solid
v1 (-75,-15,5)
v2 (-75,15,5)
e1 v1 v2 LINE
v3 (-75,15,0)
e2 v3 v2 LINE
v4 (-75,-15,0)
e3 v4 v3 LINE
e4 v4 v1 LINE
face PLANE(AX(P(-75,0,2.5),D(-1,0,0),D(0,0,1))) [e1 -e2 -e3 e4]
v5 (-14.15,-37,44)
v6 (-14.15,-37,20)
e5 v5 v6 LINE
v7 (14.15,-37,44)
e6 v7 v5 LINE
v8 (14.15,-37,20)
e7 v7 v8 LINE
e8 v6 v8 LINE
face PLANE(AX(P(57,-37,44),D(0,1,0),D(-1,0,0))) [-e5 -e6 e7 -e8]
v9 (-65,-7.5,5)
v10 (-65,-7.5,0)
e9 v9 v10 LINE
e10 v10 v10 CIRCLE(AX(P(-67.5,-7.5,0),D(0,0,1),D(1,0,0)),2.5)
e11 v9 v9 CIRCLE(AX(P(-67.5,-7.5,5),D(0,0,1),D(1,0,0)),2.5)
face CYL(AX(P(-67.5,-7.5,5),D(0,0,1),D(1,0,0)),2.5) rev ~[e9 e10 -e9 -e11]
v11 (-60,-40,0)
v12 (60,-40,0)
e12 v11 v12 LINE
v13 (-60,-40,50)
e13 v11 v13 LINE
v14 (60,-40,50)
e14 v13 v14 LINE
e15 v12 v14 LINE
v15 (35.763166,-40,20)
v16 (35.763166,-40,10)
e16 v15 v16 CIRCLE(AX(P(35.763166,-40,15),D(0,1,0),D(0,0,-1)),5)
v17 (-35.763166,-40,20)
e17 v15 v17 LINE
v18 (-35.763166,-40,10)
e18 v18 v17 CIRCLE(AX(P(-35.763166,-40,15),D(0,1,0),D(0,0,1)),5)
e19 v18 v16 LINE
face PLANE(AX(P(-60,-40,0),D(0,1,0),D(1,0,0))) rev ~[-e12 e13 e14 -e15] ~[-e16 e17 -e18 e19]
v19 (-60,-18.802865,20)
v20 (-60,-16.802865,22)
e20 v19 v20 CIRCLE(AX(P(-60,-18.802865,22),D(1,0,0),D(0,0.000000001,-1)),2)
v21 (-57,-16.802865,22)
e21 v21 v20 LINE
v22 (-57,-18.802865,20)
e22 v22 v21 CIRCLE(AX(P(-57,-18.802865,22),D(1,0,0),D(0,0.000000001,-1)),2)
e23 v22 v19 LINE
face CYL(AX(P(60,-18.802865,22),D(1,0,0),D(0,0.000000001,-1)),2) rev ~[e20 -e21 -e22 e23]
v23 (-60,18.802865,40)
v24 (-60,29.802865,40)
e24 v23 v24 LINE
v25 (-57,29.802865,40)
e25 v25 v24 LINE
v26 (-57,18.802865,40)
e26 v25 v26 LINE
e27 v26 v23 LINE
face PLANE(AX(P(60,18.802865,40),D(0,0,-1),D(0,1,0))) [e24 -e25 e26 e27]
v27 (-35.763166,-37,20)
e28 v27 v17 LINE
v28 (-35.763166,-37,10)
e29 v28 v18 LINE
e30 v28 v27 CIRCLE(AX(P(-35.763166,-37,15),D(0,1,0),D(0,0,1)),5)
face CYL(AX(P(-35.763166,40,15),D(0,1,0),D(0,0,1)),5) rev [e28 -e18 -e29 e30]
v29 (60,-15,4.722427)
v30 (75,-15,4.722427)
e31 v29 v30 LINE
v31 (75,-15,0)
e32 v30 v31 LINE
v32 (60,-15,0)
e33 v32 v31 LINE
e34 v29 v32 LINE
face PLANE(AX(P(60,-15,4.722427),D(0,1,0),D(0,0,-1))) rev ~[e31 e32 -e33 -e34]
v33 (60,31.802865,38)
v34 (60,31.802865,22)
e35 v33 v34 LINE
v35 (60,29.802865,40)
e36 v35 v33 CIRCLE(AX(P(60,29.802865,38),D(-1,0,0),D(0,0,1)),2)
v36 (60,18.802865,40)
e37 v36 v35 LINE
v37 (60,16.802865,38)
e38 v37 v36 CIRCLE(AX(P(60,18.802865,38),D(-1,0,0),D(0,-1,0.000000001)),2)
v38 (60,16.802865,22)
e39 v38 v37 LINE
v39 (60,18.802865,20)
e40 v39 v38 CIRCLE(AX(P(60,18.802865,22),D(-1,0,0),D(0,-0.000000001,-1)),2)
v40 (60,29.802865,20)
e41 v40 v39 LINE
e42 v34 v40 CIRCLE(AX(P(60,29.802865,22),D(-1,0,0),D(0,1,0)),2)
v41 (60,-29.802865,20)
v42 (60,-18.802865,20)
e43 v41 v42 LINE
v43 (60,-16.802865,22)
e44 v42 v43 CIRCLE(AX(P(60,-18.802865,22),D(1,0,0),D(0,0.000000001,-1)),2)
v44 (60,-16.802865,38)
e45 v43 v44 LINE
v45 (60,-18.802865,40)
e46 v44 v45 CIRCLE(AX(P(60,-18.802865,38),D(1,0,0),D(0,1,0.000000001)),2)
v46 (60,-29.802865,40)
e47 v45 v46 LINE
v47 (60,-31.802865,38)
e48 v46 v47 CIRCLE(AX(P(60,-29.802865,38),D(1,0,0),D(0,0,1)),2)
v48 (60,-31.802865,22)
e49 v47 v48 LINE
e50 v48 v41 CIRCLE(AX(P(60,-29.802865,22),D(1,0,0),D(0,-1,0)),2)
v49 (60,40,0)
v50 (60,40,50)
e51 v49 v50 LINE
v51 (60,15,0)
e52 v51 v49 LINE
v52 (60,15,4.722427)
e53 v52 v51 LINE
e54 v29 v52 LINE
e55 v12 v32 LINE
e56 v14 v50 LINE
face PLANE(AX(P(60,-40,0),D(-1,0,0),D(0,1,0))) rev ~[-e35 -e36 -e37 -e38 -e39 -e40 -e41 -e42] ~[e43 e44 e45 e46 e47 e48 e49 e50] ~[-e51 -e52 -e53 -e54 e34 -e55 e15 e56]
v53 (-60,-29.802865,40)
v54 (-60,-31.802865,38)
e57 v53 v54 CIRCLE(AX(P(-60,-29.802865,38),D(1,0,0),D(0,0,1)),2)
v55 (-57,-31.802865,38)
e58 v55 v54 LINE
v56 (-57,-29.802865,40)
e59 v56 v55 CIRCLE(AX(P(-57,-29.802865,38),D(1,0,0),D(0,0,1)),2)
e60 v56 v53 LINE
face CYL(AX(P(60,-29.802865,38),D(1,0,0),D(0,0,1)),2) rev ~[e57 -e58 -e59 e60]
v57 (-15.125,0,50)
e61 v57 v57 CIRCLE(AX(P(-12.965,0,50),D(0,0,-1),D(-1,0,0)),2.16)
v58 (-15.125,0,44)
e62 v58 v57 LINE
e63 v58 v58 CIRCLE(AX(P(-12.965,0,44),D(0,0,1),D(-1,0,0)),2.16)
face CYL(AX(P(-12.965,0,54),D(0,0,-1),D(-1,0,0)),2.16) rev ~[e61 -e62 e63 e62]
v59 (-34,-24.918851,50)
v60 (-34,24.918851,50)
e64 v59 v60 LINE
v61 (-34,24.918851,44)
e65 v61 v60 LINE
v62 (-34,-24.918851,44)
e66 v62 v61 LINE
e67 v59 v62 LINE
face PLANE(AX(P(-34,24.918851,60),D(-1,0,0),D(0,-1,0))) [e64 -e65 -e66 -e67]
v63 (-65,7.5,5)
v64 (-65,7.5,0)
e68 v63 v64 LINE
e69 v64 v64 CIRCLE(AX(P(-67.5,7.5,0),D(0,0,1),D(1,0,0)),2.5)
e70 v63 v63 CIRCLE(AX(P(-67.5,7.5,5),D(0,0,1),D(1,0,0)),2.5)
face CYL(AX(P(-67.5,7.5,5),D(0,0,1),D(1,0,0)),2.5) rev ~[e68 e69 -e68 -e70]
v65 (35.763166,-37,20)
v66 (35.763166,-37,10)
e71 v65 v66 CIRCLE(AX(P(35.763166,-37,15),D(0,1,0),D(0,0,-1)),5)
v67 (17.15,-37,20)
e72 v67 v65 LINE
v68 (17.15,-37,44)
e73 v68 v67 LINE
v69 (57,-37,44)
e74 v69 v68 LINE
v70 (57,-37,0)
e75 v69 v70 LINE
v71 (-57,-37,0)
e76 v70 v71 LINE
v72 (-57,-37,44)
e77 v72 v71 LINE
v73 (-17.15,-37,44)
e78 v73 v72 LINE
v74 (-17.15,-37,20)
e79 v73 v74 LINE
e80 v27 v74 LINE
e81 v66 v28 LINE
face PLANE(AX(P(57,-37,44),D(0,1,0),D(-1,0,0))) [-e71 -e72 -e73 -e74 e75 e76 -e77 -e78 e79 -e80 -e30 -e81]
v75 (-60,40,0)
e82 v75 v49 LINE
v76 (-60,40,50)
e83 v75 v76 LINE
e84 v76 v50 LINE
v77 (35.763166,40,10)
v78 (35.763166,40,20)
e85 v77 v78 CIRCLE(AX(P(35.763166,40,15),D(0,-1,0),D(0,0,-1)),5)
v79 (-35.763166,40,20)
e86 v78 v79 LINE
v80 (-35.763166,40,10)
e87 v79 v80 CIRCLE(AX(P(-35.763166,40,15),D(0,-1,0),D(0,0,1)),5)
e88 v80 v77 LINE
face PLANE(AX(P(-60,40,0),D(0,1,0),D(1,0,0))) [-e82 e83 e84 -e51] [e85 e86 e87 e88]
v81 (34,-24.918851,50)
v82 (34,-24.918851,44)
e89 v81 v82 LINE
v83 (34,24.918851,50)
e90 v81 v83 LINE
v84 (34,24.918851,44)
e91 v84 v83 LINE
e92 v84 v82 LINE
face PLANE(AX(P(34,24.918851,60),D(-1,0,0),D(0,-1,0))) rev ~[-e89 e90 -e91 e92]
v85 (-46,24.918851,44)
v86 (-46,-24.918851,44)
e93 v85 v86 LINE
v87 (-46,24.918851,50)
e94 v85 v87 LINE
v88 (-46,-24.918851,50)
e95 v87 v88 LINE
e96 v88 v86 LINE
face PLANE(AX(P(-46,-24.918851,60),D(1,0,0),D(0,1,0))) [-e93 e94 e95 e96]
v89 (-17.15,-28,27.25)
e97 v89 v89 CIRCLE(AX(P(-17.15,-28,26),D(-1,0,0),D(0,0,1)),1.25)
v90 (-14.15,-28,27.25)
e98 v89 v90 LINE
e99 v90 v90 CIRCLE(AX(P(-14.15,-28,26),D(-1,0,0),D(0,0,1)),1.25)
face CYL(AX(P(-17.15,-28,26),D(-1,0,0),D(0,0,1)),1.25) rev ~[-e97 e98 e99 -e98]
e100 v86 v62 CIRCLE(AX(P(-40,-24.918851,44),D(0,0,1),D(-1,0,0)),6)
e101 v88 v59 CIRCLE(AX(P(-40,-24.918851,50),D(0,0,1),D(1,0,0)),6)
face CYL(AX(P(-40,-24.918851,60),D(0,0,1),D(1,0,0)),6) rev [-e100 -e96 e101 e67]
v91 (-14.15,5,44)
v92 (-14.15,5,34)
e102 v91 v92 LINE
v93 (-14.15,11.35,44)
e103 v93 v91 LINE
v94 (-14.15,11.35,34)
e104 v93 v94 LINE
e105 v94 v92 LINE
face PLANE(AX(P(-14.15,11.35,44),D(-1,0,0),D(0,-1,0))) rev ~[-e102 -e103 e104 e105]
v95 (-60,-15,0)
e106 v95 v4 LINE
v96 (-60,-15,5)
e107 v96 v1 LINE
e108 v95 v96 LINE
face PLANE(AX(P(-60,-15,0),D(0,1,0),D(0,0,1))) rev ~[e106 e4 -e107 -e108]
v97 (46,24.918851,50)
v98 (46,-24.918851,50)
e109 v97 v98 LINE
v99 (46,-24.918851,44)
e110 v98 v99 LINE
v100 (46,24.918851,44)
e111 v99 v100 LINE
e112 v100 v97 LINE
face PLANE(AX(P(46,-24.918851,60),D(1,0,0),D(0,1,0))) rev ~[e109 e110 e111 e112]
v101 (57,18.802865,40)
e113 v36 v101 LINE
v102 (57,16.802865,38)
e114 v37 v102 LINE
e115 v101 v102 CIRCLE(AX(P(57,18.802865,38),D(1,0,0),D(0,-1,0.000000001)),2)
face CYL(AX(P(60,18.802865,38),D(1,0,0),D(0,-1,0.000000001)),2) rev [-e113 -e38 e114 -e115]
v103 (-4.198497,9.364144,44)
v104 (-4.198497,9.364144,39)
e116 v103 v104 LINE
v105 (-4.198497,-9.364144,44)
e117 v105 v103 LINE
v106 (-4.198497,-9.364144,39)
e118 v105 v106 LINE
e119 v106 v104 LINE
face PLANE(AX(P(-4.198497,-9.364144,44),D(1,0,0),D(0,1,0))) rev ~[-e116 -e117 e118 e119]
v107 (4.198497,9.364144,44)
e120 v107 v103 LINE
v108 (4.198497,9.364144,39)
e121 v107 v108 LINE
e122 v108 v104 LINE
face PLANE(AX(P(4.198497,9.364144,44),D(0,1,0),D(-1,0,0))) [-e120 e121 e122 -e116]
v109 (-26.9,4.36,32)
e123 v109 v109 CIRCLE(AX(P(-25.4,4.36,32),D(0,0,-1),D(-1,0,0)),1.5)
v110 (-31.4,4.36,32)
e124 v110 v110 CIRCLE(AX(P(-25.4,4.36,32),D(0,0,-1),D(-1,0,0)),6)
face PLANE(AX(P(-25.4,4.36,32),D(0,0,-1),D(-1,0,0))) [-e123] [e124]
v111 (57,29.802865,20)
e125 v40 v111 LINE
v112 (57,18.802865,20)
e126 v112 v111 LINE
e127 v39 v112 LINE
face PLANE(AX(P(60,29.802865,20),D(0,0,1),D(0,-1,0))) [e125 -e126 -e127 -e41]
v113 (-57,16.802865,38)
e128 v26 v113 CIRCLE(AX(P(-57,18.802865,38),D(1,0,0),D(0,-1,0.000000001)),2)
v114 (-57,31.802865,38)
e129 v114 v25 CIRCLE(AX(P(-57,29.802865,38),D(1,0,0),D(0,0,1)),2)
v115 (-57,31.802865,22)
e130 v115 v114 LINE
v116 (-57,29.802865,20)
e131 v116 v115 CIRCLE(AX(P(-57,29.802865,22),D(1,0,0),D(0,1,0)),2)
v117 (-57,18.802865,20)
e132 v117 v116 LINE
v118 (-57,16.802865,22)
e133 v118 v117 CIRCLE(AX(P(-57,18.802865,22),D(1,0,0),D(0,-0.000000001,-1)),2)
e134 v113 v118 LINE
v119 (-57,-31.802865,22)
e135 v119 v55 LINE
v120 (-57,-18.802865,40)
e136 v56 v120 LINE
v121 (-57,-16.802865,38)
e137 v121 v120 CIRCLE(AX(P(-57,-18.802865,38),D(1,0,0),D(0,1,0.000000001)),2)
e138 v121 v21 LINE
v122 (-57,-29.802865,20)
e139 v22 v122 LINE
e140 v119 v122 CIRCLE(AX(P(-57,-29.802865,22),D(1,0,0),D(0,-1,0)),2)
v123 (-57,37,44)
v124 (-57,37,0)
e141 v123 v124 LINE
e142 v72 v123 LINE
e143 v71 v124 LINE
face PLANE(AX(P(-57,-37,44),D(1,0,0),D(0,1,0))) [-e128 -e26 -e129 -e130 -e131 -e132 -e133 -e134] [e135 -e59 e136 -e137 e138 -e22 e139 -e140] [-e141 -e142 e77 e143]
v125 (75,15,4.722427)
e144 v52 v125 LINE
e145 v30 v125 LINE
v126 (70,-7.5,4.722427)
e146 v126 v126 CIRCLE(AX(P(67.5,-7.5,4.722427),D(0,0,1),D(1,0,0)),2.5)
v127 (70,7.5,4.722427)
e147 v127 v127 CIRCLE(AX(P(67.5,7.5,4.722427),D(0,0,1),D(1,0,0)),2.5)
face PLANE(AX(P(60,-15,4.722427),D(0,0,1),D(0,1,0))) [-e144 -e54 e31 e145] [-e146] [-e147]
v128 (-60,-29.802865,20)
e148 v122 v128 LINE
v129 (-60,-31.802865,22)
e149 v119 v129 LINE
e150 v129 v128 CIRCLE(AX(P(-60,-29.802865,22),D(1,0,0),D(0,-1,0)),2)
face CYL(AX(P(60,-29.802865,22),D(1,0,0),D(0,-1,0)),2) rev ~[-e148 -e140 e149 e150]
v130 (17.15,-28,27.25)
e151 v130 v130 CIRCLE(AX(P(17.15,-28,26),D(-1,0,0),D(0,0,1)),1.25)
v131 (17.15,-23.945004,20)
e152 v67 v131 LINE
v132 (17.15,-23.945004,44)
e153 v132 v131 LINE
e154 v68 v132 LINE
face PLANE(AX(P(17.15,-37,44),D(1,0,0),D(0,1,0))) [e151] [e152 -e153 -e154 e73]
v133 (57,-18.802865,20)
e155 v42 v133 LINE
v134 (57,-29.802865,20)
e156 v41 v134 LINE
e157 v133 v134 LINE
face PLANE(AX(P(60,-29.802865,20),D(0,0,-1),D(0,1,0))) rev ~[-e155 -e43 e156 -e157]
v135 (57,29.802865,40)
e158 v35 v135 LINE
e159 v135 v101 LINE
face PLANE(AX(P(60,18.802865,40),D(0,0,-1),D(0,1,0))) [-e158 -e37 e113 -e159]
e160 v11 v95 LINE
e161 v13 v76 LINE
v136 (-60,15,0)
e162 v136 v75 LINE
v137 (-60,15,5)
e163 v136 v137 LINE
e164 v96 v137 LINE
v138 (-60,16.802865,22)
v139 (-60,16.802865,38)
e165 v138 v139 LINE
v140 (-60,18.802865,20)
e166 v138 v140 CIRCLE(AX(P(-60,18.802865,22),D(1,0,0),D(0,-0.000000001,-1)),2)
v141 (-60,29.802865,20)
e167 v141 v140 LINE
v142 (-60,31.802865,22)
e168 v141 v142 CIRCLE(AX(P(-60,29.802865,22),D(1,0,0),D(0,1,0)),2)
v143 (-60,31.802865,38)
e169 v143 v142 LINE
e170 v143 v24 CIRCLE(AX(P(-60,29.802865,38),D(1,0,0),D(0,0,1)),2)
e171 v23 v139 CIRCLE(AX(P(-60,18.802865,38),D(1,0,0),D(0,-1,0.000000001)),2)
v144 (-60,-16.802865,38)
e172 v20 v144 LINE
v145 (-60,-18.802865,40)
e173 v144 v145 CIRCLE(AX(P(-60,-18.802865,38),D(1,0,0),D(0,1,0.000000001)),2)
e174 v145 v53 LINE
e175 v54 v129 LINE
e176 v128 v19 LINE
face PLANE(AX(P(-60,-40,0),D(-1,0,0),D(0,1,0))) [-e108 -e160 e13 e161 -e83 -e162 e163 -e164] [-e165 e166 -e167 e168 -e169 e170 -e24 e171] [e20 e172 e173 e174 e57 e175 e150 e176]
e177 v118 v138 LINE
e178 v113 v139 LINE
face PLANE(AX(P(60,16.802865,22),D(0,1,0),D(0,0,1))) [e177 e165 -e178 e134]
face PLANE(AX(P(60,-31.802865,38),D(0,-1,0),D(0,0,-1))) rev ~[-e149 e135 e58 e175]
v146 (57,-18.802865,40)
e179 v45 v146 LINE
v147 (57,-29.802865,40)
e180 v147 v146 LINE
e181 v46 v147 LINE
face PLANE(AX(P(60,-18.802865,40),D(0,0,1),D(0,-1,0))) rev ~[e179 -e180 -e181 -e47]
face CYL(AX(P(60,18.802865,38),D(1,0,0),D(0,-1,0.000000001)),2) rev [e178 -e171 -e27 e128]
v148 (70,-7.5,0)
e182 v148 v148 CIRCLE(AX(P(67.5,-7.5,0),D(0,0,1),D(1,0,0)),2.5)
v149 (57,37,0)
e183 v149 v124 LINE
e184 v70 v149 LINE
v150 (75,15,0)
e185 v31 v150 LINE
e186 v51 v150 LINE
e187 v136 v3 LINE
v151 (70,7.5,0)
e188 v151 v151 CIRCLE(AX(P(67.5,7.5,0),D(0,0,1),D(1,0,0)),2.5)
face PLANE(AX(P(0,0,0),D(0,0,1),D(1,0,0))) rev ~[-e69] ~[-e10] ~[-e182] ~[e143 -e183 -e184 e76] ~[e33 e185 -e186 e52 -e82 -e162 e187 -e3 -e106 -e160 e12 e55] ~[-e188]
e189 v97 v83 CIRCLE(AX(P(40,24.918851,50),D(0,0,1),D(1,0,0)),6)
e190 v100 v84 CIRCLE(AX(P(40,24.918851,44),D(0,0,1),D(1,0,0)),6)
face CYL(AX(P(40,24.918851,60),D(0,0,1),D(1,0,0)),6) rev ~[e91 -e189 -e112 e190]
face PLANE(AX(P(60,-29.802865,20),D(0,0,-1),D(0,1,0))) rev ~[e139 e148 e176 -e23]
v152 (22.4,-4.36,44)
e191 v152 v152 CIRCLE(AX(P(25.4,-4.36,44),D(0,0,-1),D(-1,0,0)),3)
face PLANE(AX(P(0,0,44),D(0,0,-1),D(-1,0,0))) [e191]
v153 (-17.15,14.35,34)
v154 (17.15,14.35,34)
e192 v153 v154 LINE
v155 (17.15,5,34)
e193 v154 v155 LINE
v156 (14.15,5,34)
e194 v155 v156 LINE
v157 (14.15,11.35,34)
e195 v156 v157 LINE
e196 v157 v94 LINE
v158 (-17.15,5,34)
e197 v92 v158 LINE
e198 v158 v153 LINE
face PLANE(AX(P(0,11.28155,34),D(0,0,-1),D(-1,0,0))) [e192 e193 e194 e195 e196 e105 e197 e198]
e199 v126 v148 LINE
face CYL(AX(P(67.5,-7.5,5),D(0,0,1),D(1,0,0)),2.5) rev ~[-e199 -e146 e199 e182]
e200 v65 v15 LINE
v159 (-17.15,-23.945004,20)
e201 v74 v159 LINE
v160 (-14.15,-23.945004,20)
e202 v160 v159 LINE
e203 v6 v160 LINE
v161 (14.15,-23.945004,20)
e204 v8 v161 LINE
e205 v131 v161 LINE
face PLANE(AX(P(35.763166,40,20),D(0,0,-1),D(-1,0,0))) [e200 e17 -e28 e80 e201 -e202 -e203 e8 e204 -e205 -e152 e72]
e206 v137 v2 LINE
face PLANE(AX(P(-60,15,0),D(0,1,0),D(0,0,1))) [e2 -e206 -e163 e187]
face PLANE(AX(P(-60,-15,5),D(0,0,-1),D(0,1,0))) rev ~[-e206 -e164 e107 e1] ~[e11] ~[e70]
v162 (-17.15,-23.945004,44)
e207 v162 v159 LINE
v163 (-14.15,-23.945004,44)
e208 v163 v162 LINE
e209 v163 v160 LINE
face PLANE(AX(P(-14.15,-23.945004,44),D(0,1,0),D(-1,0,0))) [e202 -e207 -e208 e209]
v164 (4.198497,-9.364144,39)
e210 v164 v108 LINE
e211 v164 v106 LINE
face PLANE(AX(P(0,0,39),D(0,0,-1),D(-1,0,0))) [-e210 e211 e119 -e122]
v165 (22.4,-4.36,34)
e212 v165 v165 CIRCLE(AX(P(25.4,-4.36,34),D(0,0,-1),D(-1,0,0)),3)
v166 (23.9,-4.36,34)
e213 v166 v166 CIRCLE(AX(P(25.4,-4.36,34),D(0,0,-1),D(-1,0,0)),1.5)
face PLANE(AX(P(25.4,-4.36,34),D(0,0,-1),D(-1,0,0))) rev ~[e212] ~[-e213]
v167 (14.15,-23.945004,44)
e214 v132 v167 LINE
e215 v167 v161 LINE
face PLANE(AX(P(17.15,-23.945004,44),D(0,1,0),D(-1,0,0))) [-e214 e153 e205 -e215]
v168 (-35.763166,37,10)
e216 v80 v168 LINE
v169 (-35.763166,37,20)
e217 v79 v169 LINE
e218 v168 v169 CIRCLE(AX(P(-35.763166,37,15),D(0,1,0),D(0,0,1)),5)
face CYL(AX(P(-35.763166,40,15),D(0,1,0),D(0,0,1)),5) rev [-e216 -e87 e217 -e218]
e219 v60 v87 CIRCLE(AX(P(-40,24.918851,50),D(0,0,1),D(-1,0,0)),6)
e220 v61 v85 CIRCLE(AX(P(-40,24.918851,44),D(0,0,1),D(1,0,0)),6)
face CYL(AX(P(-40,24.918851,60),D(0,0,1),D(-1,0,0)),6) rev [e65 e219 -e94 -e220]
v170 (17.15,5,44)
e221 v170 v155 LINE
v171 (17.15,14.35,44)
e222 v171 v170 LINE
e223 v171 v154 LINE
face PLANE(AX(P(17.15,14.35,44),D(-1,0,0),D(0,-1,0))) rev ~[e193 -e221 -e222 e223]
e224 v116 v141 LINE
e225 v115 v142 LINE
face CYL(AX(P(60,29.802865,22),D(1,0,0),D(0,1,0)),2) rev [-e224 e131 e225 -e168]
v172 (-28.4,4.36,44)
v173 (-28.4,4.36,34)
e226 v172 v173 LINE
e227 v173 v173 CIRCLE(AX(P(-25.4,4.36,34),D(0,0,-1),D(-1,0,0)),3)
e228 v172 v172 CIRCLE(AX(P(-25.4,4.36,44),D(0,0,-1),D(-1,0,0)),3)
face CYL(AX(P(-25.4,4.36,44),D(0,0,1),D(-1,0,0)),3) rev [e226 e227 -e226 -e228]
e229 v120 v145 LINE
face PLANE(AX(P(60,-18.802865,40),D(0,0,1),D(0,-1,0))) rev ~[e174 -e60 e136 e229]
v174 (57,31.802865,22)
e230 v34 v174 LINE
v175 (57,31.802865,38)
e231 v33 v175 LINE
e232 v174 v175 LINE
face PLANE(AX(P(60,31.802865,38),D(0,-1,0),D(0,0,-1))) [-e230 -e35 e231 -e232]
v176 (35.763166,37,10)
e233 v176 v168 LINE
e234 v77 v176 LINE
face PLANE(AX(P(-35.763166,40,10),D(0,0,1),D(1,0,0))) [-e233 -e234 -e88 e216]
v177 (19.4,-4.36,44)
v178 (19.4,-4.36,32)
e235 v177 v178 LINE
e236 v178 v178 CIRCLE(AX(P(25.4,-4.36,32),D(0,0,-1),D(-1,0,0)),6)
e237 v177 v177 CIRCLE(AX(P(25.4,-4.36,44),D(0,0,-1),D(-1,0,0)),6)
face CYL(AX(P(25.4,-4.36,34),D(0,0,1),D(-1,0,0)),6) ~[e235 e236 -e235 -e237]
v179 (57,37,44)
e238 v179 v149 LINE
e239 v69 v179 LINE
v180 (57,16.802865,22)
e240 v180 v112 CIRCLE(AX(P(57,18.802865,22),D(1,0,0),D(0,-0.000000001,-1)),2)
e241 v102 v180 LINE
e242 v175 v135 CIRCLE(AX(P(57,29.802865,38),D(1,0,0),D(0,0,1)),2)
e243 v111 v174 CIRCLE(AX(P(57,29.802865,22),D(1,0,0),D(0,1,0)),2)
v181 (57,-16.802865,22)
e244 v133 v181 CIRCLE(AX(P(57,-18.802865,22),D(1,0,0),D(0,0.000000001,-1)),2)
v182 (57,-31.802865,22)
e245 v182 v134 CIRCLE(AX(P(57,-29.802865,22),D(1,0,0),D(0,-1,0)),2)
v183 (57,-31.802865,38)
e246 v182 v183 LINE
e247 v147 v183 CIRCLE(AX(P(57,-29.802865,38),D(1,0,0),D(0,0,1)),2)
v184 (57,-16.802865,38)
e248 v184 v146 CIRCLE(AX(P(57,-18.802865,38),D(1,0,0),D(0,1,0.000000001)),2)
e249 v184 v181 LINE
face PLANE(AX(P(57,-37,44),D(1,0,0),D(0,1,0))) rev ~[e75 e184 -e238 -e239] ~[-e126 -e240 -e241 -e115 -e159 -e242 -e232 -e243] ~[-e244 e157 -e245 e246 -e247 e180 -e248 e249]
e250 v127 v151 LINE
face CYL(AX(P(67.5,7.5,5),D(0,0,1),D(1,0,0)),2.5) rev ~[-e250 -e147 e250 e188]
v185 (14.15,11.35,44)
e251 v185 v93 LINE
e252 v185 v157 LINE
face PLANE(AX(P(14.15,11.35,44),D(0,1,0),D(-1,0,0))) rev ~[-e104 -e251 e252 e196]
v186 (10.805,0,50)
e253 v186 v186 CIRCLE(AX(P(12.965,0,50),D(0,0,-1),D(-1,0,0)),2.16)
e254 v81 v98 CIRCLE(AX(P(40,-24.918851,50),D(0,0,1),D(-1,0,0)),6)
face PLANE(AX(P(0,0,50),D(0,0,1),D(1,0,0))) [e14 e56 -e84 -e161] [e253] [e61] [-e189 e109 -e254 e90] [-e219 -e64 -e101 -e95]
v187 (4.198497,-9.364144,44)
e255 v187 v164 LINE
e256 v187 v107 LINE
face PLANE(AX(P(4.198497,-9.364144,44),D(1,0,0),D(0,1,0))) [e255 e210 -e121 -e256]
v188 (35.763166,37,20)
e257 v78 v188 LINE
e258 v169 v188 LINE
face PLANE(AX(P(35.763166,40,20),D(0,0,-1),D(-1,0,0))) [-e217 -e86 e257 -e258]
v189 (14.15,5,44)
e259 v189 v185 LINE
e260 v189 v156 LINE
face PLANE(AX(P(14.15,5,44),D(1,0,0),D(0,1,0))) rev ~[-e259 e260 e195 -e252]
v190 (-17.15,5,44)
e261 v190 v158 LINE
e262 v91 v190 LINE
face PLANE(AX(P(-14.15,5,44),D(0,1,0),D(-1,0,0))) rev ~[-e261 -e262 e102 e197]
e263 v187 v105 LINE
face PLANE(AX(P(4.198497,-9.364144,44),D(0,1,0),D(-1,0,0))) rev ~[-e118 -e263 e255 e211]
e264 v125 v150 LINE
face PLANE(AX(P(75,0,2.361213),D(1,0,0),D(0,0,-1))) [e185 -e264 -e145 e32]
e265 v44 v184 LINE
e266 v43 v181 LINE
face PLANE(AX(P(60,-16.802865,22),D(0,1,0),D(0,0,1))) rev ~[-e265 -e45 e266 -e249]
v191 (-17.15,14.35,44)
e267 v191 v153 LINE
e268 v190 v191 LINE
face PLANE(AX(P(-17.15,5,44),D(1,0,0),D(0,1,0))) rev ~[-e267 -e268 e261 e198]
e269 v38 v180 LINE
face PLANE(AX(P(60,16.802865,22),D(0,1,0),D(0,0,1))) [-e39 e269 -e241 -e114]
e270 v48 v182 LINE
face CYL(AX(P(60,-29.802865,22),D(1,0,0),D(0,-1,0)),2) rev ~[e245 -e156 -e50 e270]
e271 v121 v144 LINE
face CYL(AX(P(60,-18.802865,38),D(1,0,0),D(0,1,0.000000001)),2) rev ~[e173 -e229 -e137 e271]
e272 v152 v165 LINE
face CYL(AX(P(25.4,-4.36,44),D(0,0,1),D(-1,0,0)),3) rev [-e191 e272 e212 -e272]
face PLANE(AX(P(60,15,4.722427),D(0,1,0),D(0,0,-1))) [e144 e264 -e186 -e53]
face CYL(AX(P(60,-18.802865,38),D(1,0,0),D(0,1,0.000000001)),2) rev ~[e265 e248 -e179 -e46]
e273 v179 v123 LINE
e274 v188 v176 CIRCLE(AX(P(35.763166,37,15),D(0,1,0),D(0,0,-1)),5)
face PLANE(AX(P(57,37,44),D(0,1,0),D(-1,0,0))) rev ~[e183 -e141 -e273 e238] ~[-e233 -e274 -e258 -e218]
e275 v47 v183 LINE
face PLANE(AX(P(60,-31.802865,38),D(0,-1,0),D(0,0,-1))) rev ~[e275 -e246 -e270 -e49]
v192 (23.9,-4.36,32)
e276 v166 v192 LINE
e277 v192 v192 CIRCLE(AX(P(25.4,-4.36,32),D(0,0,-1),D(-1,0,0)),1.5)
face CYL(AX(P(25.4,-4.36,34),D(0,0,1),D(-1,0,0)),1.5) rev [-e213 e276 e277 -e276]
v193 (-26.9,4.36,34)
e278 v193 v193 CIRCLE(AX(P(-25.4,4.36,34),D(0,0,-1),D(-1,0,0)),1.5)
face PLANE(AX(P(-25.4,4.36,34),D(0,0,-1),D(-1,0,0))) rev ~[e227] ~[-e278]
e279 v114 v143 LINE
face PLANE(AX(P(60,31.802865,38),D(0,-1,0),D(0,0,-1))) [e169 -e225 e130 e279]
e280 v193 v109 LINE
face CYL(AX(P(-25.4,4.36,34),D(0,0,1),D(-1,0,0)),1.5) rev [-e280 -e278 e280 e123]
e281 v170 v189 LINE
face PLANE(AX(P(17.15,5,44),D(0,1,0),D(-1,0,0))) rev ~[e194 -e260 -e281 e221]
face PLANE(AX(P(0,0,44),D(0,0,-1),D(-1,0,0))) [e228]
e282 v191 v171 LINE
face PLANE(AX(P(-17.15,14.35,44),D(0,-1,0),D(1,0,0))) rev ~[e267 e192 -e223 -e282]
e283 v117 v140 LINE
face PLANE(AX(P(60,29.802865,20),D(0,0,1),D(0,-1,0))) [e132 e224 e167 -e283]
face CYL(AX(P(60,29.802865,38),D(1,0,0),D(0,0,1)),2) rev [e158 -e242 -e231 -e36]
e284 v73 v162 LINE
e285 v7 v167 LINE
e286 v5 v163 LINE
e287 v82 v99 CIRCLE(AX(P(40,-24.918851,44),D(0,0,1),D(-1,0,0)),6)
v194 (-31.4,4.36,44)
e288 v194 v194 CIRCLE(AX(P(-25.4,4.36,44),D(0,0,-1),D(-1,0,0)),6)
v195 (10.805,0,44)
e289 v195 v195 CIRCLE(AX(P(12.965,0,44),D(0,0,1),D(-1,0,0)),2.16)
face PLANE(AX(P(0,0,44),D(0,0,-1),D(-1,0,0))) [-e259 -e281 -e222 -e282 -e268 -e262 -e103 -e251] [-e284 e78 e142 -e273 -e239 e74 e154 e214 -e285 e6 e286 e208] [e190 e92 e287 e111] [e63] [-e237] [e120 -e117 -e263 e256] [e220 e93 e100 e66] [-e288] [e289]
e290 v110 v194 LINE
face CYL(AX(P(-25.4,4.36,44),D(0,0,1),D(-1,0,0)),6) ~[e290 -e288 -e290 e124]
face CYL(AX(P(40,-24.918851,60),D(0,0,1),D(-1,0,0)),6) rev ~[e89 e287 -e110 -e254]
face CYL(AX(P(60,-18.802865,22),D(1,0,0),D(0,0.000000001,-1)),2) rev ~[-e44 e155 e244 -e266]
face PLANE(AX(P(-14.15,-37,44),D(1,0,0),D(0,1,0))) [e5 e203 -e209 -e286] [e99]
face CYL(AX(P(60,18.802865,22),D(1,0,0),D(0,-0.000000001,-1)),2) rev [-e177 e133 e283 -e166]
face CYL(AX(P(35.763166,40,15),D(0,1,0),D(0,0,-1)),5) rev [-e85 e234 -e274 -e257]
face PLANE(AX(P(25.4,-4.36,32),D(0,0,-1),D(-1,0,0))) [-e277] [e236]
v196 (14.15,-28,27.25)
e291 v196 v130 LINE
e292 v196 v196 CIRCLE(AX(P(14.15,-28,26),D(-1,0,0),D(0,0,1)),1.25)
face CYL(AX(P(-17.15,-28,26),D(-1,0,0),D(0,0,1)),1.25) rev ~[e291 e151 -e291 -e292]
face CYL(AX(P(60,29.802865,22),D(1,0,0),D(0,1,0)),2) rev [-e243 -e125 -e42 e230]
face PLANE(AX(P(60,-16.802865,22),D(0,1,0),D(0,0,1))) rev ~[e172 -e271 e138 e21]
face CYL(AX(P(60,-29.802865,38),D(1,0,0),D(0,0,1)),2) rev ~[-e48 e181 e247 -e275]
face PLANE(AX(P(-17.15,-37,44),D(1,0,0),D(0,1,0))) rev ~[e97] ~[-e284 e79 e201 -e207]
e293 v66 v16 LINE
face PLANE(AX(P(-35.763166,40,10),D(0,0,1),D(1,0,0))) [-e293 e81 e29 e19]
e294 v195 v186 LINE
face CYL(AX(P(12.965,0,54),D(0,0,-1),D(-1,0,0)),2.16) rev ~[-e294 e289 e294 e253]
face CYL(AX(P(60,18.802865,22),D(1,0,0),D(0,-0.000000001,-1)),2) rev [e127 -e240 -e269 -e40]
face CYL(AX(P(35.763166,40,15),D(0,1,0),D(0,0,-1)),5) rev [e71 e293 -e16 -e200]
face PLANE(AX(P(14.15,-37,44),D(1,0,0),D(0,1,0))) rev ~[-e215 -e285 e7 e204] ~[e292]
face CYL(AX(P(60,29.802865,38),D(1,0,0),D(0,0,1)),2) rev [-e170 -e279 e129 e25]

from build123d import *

# Parameters (mm, degrees)
SKETCH1_W            = 120
SKETCH1_H            = 80
BOSS_EXTRUDE1_DEPTH  = 60
SHELL3_T             = -6
SKETCH2_W            = 4.722426826
SKETCH2_H            = 30
BOSS_EXTRUDE2_DEPTH  = 15
SKETCH3_W            = 5
SKETCH3_H            = 30
BOSS_EXTRUDE3_DEPTH  = 15
SKETCH4_R            = 2.5
CUT_EXTRUDE2_DEPTH   = 5
CUT_EXTRUDE3_REACH   = 155.052
CUT_EXTRUDE4_DEPTH   = 6
SKETCH7_R            = 2.16
CUT_EXTRUDE5_DEPTH   = 6
SKETCH9_W            = 108
SKETCH9_H            = 68
BOSS_EXTRUDE4_DEPTH  = 10
SKETCH12_R           = 2.16
CUT_EXTRUDE6_DEPTH   = 10
SKETCH13_W           = 120
SKETCH13_H           = 80
CUT_EXTRUDE7_DEPTH   = 10
CUT_EXTRUDE8_REACH   = 122.52
CUT_EXTRUDE9_START   = -44
SKETCH17_W           = 114
SKETCH17_H           = 74
SKETCH17_W_2         = 108
SKETCH17_H_2         = 68
CUT_EXTRUDE9_DEPTH   = 44
BOSS_EXTRUDE5_DEPTH  = 10
SKETCH24_W           = 8.396994042
SKETCH24_H           = 18.728288782
BOSS_EXTRUDE6_DEPTH  = 5
SKETCH28_W           = 3
SKETCH28_H           = 13.054996367
BOSS_EXTRUDE8_DEPTH  = 24
SKETCH29_R           = 1.25
CUT_EXTRUDE10_DEPTH  = 48
SKETCH30_R           = 6
SKETCH30_R_2         = 3
BOSS_EXTRUDE9_DEPTH  = 10
SKETCH31_R           = 6
SKETCH31_R_2         = 1.5
BOSS_EXTRUDE10_DEPTH = 2


with BuildPart() as part:
    # Sketch1 → Boss-Extrude1 (new body)
    with BuildSketch(Plane.XY):
        Rectangle(SKETCH1_W, SKETCH1_H)
    extrude(amount=BOSS_EXTRUDE1_DEPTH)

    # Shell3
    shell3_openings = [part.faces().sort_by_distance(p)[0] for p in [
        (0, 0, 0),
    ]]
    offset(amount=SHELL3_T, openings=shell3_openings, kind=Kind.INTERSECTION)

    # Sketch2 → Boss-Extrude2 (add)
    with BuildSketch(Plane(origin=(60, 0, 0), x_dir=(0, 0, -1), z_dir=(1, 0, 0))):
        with Locations((-2.361213413, 0)):
            Rectangle(SKETCH2_W, SKETCH2_H)
    extrude(amount=BOSS_EXTRUDE2_DEPTH)

    # Sketch3 → Boss-Extrude3 (add)
    with BuildSketch(Plane.ZY.offset(60)):
        with Locations((2.5, 0)):
            Rectangle(SKETCH3_W, SKETCH3_H)
    extrude(amount=BOSS_EXTRUDE3_DEPTH)

    # Sketch4 → Cut-Extrude2 (cut)
    with BuildSketch(Plane.XY.offset(5)):
        with Locations((-67.5, 7.5)):
            Circle(SKETCH4_R)
        with Locations((-67.5, -7.5)):
            Circle(SKETCH4_R)
        with Locations((67.5, -7.5)):
            Circle(SKETCH4_R)
        with Locations((67.5, 7.5)):
            Circle(SKETCH4_R)
    extrude(amount=-CUT_EXTRUDE2_DEPTH, mode=Mode.SUBTRACT)

    # Cut-Extrude3: up to this face of the body (flat: up to its plane)
    cut_extrude3_end = Plane(part.part.faces().sort_by_distance((-60, 0, 30.887096774))[0])
    # Sketch5 → Cut-Extrude3 (cut, up to the picked face)
    with BuildSketch(Plane(origin=(60, 0, 0), x_dir=(0, 0, -1), z_dir=(1, 0, 0)), mode=Mode.PRIVATE) as cut_extrude3_sk1:
        with BuildLine():
            Line((-38, 31.802865199), (-22, 31.802865199))
            ThreePointArc((-22, 31.802865199), (-20.585786438, 31.217078762), (-20, 29.802865199))
            Line((-20, 29.802865199), (-20, 18.802865199))
            ThreePointArc((-20, 18.802865199), (-20.585786438, 17.388651637), (-22, 16.802865199))
            Line((-22, 16.802865199), (-38, 16.802865199))
            ThreePointArc((-38, 16.802865199), (-39.414213562, 17.388651637), (-40, 18.802865199))
            Line((-40, 18.802865199), (-40, 29.802865199))
            ThreePointArc((-40, 29.802865199), (-39.414213562, 31.217078762), (-38, 31.802865199))
        make_face()
    cut_extrude3_tool1 = split(extrude(cut_extrude3_sk1.sketch, amount=-CUT_EXTRUDE3_REACH, mode=Mode.PRIVATE), bisect_by=cut_extrude3_end, keep=Keep.BOTH, mode=Mode.PRIVATE)
    # Sketch5 → Cut-Extrude3 (cut, up to the picked face)
    with BuildSketch(Plane(origin=(60, 0, 0), x_dir=(0, 0, -1), z_dir=(1, 0, 0)), mode=Mode.PRIVATE) as cut_extrude3_sk2:
        with BuildLine():
            Line((-20, -29.802865199), (-20, -18.802865199))
            ThreePointArc((-20, -18.802865199), (-20.585786438, -17.388651637), (-22, -16.802865199))
            Line((-22, -16.802865199), (-38, -16.802865199))
            ThreePointArc((-38, -16.802865199), (-39.414213562, -17.388651637), (-40, -18.802865199))
            Line((-40, -18.802865199), (-40, -29.802865199))
            ThreePointArc((-40, -29.802865199), (-39.414213562, -31.217078762), (-38, -31.802865199))
            Line((-38, -31.802865199), (-22, -31.802865199))
            ThreePointArc((-22, -31.802865199), (-20.585786438, -31.217078762), (-20, -29.802865199))
        make_face()
    cut_extrude3_tool2 = split(extrude(cut_extrude3_sk2.sketch, amount=-CUT_EXTRUDE3_REACH, mode=Mode.PRIVATE), bisect_by=cut_extrude3_end, keep=Keep.BOTH, mode=Mode.PRIVATE)
    add(cut_extrude3_tool1.solids().sort_by(Axis((60, 24.302865, 30), (-1, 0, 0)))[0], mode=Mode.SUBTRACT)
    add(cut_extrude3_tool2.solids().sort_by(Axis((60, -24.302865, 30), (-1, 0, 0)))[0], mode=Mode.SUBTRACT)

    # Sketch6 → Cut-Extrude4 (cut)
    with BuildSketch(Plane.XY.offset(60)):
        with BuildLine():
            Line((-34, 24.918850814), (-34, -24.918850814))
            ThreePointArc((-34, -24.918850814), (-40, -30.918850814), (-46, -24.918850814))
            Line((-46, -24.918850814), (-46, 24.918850814))
            ThreePointArc((-46, 24.918850814), (-40, 30.918850814), (-34, 24.918850814))
        make_face()
        with BuildLine():
            Line((34, 24.918850814), (34, -24.918850814))
            ThreePointArc((34, -24.918850814), (40, -30.918850814), (46, -24.918850814))
            Line((46, -24.918850814), (46, 24.918850814))
            ThreePointArc((46, 24.918850814), (40, 30.918850814), (34, 24.918850814))
        make_face()
    extrude(amount=-CUT_EXTRUDE4_DEPTH, mode=Mode.SUBTRACT)

    # Sketch7 → Cut-Extrude5 (cut)
    with BuildSketch(Plane(origin=(0, 0, 54), x_dir=(-1, 0, 0), z_dir=(0, 0, -1))):
        with Locations((-12.965, 0)):
            Circle(SKETCH7_R)
        with Locations((12.965, 0)):
            Circle(SKETCH7_R)
    extrude(amount=-CUT_EXTRUDE5_DEPTH, mode=Mode.SUBTRACT)

    # Sketch9 → Boss-Extrude4 (add)
    with BuildSketch(Plane(origin=(0, 0, 54), x_dir=(-1, 0, 0), z_dir=(0, 0, -1))):
        Rectangle(SKETCH9_W, SKETCH9_H)
    extrude(amount=BOSS_EXTRUDE4_DEPTH)

    # Sketch12 → Cut-Extrude6 (cut)
    with BuildSketch(Plane.XY.offset(54)):
        with Locations(Location((12.965, 0, 0), (0, 0, 180))):
            Circle(SKETCH12_R)
        with Locations(Location((-12.965, 0, 0), (0, 0, 180))):
            Circle(SKETCH12_R)
        with BuildLine():
            Line((46, -24.918850814), (46, 24.918850814))
            ThreePointArc((46, 24.918850814), (40, 30.918850814), (34, 24.918850814))
            Line((34, 24.918850814), (34, -24.918850814))
            ThreePointArc((34, -24.918850814), (40, -30.918850814), (46, -24.918850814))
        make_face()
        with BuildLine():
            Line((-34, -24.918850814), (-34, 24.918850814))
            ThreePointArc((-34, 24.918850814), (-40, 30.918850814), (-46, 24.918850814))
            Line((-46, 24.918850814), (-46, -24.918850814))
            ThreePointArc((-46, -24.918850814), (-40, -30.918850814), (-34, -24.918850814))
        make_face()
    extrude(amount=-CUT_EXTRUDE6_DEPTH, mode=Mode.SUBTRACT)

    # Sketch13 → Cut-Extrude7 (cut)
    with BuildSketch(Plane.XY.offset(60)):
        Rectangle(SKETCH13_W, SKETCH13_H)
    extrude(amount=-CUT_EXTRUDE7_DEPTH, mode=Mode.SUBTRACT)

    # Cut-Extrude8: up to this face of the body (flat: up to its plane)
    cut_extrude8_end = Plane(part.part.faces().sort_by_distance((0, -40, 25))[0])
    # Sketch14 → Cut-Extrude8 (cut, up to the picked face)
    with BuildSketch(Plane(origin=(0, 40, 0), x_dir=(1, 0, 0), z_dir=(0, 1, 0)), mode=Mode.PRIVATE) as cut_extrude8_sk1:
        with BuildLine():
            Line((-35.763165519, -10), (35.763165519, -10))
            ThreePointArc((35.763165519, -10), (40.763165519, -15), (35.763165519, -20))
            Line((35.763165519, -20), (-35.763165519, -20))
            ThreePointArc((-35.763165519, -20), (-40.763165519, -15), (-35.763165519, -10))
        make_face()
    cut_extrude8_tool1 = split(extrude(cut_extrude8_sk1.sketch, amount=-CUT_EXTRUDE8_REACH, mode=Mode.PRIVATE), bisect_by=cut_extrude8_end, keep=Keep.BOTH, mode=Mode.PRIVATE)
    add(cut_extrude8_tool1.solids().sort_by(Axis((0, 40, 15), (0, -1, 0)))[0], mode=Mode.SUBTRACT)

    # Sketch17 → Cut-Extrude9 (cut)
    with BuildSketch(Plane(origin=(0, 0, 0), x_dir=(-1, 0, 0), z_dir=(0, 0, -1)).offset(CUT_EXTRUDE9_START)):
        Rectangle(SKETCH17_W, SKETCH17_H)
        Rectangle(SKETCH17_W_2, SKETCH17_H_2, mode=Mode.SUBTRACT)
    extrude(amount=CUT_EXTRUDE9_DEPTH, mode=Mode.SUBTRACT)

    # Sketch23 → Boss-Extrude5 (add)
    with BuildSketch(Plane(origin=(0, 0, 44), x_dir=(-1, 0, 0), z_dir=(0, 0, -1))):
        Polygon((-17.15, 14.35), (-17.15, 5), (-14.15, 5), (-14.15, 11.35), (14.15, 11.35), (14.15, 5), (17.15, 5), (17.15, 14.35), align=None)
    extrude(amount=BOSS_EXTRUDE5_DEPTH)

    # Sketch24 → Boss-Extrude6 (add)
    with BuildSketch(Plane(origin=(0, 0, 44), x_dir=(-1, 0, 0), z_dir=(0, 0, -1))):
        Rectangle(SKETCH24_W, SKETCH24_H)
    extrude(amount=BOSS_EXTRUDE6_DEPTH)

    # Sketch28 → Boss-Extrude8 (add)
    with BuildSketch(Plane(origin=(0, 0, 44), x_dir=(-1, 0, 0), z_dir=(0, 0, -1))):
        with Locations((-15.65, -30.472501816)):
            Rectangle(SKETCH28_W, SKETCH28_H)
        with Locations((15.65, -30.472501816)):
            Rectangle(SKETCH28_W, SKETCH28_H)
    extrude(amount=BOSS_EXTRUDE8_DEPTH)

    # Sketch29 → Cut-Extrude10 (cut)
    with BuildSketch(Plane.ZY.offset(17.15)):
        with Locations((26, -28)):
            Circle(SKETCH29_R)
    extrude(amount=-CUT_EXTRUDE10_DEPTH, mode=Mode.SUBTRACT)

    # Sketch30 → Boss-Extrude9 (add)
    # profile 1 of 2: a face of its own
    with BuildSketch(Plane(origin=(0, 0, 44), x_dir=(-1, 0, 0), z_dir=(0, 0, -1))):
        with Locations((-25.4, -4.36)):
            Circle(SKETCH30_R)
        with Locations((-25.4, -4.36)):
            Circle(SKETCH30_R_2, mode=Mode.SUBTRACT)
    # profile 2 of 2: a face of its own
    with BuildSketch(Plane(origin=(0, 0, 44), x_dir=(-1, 0, 0), z_dir=(0, 0, -1))):
        with Locations((25.4, 4.36)):
            Circle(SKETCH30_R)
        with Locations((25.4, 4.36)):
            Circle(SKETCH30_R_2, mode=Mode.SUBTRACT)
    extrude(amount=BOSS_EXTRUDE9_DEPTH)

    # Sketch31 → Boss-Extrude10 (add)
    # profile 1 of 2: a face of its own
    with BuildSketch(Plane(origin=(0, 0, 34), x_dir=(-1, 0, 0), z_dir=(0, 0, -1))):
        with Locations((-25.4, -4.36)):
            Circle(SKETCH31_R)
        with Locations((-25.4, -4.36)):
            Circle(SKETCH31_R_2, mode=Mode.SUBTRACT)
    # profile 2 of 2: a face of its own
    with BuildSketch(Plane(origin=(0, 0, 34), x_dir=(-1, 0, 0), z_dir=(0, 0, -1))):
        with Locations((25.4, 4.36)):
            Circle(SKETCH31_R)
        with Locations((25.4, 4.36)):
            Circle(SKETCH31_R_2, mode=Mode.SUBTRACT)
    extrude(amount=BOSS_EXTRUDE10_DEPTH)


solid = part.part
